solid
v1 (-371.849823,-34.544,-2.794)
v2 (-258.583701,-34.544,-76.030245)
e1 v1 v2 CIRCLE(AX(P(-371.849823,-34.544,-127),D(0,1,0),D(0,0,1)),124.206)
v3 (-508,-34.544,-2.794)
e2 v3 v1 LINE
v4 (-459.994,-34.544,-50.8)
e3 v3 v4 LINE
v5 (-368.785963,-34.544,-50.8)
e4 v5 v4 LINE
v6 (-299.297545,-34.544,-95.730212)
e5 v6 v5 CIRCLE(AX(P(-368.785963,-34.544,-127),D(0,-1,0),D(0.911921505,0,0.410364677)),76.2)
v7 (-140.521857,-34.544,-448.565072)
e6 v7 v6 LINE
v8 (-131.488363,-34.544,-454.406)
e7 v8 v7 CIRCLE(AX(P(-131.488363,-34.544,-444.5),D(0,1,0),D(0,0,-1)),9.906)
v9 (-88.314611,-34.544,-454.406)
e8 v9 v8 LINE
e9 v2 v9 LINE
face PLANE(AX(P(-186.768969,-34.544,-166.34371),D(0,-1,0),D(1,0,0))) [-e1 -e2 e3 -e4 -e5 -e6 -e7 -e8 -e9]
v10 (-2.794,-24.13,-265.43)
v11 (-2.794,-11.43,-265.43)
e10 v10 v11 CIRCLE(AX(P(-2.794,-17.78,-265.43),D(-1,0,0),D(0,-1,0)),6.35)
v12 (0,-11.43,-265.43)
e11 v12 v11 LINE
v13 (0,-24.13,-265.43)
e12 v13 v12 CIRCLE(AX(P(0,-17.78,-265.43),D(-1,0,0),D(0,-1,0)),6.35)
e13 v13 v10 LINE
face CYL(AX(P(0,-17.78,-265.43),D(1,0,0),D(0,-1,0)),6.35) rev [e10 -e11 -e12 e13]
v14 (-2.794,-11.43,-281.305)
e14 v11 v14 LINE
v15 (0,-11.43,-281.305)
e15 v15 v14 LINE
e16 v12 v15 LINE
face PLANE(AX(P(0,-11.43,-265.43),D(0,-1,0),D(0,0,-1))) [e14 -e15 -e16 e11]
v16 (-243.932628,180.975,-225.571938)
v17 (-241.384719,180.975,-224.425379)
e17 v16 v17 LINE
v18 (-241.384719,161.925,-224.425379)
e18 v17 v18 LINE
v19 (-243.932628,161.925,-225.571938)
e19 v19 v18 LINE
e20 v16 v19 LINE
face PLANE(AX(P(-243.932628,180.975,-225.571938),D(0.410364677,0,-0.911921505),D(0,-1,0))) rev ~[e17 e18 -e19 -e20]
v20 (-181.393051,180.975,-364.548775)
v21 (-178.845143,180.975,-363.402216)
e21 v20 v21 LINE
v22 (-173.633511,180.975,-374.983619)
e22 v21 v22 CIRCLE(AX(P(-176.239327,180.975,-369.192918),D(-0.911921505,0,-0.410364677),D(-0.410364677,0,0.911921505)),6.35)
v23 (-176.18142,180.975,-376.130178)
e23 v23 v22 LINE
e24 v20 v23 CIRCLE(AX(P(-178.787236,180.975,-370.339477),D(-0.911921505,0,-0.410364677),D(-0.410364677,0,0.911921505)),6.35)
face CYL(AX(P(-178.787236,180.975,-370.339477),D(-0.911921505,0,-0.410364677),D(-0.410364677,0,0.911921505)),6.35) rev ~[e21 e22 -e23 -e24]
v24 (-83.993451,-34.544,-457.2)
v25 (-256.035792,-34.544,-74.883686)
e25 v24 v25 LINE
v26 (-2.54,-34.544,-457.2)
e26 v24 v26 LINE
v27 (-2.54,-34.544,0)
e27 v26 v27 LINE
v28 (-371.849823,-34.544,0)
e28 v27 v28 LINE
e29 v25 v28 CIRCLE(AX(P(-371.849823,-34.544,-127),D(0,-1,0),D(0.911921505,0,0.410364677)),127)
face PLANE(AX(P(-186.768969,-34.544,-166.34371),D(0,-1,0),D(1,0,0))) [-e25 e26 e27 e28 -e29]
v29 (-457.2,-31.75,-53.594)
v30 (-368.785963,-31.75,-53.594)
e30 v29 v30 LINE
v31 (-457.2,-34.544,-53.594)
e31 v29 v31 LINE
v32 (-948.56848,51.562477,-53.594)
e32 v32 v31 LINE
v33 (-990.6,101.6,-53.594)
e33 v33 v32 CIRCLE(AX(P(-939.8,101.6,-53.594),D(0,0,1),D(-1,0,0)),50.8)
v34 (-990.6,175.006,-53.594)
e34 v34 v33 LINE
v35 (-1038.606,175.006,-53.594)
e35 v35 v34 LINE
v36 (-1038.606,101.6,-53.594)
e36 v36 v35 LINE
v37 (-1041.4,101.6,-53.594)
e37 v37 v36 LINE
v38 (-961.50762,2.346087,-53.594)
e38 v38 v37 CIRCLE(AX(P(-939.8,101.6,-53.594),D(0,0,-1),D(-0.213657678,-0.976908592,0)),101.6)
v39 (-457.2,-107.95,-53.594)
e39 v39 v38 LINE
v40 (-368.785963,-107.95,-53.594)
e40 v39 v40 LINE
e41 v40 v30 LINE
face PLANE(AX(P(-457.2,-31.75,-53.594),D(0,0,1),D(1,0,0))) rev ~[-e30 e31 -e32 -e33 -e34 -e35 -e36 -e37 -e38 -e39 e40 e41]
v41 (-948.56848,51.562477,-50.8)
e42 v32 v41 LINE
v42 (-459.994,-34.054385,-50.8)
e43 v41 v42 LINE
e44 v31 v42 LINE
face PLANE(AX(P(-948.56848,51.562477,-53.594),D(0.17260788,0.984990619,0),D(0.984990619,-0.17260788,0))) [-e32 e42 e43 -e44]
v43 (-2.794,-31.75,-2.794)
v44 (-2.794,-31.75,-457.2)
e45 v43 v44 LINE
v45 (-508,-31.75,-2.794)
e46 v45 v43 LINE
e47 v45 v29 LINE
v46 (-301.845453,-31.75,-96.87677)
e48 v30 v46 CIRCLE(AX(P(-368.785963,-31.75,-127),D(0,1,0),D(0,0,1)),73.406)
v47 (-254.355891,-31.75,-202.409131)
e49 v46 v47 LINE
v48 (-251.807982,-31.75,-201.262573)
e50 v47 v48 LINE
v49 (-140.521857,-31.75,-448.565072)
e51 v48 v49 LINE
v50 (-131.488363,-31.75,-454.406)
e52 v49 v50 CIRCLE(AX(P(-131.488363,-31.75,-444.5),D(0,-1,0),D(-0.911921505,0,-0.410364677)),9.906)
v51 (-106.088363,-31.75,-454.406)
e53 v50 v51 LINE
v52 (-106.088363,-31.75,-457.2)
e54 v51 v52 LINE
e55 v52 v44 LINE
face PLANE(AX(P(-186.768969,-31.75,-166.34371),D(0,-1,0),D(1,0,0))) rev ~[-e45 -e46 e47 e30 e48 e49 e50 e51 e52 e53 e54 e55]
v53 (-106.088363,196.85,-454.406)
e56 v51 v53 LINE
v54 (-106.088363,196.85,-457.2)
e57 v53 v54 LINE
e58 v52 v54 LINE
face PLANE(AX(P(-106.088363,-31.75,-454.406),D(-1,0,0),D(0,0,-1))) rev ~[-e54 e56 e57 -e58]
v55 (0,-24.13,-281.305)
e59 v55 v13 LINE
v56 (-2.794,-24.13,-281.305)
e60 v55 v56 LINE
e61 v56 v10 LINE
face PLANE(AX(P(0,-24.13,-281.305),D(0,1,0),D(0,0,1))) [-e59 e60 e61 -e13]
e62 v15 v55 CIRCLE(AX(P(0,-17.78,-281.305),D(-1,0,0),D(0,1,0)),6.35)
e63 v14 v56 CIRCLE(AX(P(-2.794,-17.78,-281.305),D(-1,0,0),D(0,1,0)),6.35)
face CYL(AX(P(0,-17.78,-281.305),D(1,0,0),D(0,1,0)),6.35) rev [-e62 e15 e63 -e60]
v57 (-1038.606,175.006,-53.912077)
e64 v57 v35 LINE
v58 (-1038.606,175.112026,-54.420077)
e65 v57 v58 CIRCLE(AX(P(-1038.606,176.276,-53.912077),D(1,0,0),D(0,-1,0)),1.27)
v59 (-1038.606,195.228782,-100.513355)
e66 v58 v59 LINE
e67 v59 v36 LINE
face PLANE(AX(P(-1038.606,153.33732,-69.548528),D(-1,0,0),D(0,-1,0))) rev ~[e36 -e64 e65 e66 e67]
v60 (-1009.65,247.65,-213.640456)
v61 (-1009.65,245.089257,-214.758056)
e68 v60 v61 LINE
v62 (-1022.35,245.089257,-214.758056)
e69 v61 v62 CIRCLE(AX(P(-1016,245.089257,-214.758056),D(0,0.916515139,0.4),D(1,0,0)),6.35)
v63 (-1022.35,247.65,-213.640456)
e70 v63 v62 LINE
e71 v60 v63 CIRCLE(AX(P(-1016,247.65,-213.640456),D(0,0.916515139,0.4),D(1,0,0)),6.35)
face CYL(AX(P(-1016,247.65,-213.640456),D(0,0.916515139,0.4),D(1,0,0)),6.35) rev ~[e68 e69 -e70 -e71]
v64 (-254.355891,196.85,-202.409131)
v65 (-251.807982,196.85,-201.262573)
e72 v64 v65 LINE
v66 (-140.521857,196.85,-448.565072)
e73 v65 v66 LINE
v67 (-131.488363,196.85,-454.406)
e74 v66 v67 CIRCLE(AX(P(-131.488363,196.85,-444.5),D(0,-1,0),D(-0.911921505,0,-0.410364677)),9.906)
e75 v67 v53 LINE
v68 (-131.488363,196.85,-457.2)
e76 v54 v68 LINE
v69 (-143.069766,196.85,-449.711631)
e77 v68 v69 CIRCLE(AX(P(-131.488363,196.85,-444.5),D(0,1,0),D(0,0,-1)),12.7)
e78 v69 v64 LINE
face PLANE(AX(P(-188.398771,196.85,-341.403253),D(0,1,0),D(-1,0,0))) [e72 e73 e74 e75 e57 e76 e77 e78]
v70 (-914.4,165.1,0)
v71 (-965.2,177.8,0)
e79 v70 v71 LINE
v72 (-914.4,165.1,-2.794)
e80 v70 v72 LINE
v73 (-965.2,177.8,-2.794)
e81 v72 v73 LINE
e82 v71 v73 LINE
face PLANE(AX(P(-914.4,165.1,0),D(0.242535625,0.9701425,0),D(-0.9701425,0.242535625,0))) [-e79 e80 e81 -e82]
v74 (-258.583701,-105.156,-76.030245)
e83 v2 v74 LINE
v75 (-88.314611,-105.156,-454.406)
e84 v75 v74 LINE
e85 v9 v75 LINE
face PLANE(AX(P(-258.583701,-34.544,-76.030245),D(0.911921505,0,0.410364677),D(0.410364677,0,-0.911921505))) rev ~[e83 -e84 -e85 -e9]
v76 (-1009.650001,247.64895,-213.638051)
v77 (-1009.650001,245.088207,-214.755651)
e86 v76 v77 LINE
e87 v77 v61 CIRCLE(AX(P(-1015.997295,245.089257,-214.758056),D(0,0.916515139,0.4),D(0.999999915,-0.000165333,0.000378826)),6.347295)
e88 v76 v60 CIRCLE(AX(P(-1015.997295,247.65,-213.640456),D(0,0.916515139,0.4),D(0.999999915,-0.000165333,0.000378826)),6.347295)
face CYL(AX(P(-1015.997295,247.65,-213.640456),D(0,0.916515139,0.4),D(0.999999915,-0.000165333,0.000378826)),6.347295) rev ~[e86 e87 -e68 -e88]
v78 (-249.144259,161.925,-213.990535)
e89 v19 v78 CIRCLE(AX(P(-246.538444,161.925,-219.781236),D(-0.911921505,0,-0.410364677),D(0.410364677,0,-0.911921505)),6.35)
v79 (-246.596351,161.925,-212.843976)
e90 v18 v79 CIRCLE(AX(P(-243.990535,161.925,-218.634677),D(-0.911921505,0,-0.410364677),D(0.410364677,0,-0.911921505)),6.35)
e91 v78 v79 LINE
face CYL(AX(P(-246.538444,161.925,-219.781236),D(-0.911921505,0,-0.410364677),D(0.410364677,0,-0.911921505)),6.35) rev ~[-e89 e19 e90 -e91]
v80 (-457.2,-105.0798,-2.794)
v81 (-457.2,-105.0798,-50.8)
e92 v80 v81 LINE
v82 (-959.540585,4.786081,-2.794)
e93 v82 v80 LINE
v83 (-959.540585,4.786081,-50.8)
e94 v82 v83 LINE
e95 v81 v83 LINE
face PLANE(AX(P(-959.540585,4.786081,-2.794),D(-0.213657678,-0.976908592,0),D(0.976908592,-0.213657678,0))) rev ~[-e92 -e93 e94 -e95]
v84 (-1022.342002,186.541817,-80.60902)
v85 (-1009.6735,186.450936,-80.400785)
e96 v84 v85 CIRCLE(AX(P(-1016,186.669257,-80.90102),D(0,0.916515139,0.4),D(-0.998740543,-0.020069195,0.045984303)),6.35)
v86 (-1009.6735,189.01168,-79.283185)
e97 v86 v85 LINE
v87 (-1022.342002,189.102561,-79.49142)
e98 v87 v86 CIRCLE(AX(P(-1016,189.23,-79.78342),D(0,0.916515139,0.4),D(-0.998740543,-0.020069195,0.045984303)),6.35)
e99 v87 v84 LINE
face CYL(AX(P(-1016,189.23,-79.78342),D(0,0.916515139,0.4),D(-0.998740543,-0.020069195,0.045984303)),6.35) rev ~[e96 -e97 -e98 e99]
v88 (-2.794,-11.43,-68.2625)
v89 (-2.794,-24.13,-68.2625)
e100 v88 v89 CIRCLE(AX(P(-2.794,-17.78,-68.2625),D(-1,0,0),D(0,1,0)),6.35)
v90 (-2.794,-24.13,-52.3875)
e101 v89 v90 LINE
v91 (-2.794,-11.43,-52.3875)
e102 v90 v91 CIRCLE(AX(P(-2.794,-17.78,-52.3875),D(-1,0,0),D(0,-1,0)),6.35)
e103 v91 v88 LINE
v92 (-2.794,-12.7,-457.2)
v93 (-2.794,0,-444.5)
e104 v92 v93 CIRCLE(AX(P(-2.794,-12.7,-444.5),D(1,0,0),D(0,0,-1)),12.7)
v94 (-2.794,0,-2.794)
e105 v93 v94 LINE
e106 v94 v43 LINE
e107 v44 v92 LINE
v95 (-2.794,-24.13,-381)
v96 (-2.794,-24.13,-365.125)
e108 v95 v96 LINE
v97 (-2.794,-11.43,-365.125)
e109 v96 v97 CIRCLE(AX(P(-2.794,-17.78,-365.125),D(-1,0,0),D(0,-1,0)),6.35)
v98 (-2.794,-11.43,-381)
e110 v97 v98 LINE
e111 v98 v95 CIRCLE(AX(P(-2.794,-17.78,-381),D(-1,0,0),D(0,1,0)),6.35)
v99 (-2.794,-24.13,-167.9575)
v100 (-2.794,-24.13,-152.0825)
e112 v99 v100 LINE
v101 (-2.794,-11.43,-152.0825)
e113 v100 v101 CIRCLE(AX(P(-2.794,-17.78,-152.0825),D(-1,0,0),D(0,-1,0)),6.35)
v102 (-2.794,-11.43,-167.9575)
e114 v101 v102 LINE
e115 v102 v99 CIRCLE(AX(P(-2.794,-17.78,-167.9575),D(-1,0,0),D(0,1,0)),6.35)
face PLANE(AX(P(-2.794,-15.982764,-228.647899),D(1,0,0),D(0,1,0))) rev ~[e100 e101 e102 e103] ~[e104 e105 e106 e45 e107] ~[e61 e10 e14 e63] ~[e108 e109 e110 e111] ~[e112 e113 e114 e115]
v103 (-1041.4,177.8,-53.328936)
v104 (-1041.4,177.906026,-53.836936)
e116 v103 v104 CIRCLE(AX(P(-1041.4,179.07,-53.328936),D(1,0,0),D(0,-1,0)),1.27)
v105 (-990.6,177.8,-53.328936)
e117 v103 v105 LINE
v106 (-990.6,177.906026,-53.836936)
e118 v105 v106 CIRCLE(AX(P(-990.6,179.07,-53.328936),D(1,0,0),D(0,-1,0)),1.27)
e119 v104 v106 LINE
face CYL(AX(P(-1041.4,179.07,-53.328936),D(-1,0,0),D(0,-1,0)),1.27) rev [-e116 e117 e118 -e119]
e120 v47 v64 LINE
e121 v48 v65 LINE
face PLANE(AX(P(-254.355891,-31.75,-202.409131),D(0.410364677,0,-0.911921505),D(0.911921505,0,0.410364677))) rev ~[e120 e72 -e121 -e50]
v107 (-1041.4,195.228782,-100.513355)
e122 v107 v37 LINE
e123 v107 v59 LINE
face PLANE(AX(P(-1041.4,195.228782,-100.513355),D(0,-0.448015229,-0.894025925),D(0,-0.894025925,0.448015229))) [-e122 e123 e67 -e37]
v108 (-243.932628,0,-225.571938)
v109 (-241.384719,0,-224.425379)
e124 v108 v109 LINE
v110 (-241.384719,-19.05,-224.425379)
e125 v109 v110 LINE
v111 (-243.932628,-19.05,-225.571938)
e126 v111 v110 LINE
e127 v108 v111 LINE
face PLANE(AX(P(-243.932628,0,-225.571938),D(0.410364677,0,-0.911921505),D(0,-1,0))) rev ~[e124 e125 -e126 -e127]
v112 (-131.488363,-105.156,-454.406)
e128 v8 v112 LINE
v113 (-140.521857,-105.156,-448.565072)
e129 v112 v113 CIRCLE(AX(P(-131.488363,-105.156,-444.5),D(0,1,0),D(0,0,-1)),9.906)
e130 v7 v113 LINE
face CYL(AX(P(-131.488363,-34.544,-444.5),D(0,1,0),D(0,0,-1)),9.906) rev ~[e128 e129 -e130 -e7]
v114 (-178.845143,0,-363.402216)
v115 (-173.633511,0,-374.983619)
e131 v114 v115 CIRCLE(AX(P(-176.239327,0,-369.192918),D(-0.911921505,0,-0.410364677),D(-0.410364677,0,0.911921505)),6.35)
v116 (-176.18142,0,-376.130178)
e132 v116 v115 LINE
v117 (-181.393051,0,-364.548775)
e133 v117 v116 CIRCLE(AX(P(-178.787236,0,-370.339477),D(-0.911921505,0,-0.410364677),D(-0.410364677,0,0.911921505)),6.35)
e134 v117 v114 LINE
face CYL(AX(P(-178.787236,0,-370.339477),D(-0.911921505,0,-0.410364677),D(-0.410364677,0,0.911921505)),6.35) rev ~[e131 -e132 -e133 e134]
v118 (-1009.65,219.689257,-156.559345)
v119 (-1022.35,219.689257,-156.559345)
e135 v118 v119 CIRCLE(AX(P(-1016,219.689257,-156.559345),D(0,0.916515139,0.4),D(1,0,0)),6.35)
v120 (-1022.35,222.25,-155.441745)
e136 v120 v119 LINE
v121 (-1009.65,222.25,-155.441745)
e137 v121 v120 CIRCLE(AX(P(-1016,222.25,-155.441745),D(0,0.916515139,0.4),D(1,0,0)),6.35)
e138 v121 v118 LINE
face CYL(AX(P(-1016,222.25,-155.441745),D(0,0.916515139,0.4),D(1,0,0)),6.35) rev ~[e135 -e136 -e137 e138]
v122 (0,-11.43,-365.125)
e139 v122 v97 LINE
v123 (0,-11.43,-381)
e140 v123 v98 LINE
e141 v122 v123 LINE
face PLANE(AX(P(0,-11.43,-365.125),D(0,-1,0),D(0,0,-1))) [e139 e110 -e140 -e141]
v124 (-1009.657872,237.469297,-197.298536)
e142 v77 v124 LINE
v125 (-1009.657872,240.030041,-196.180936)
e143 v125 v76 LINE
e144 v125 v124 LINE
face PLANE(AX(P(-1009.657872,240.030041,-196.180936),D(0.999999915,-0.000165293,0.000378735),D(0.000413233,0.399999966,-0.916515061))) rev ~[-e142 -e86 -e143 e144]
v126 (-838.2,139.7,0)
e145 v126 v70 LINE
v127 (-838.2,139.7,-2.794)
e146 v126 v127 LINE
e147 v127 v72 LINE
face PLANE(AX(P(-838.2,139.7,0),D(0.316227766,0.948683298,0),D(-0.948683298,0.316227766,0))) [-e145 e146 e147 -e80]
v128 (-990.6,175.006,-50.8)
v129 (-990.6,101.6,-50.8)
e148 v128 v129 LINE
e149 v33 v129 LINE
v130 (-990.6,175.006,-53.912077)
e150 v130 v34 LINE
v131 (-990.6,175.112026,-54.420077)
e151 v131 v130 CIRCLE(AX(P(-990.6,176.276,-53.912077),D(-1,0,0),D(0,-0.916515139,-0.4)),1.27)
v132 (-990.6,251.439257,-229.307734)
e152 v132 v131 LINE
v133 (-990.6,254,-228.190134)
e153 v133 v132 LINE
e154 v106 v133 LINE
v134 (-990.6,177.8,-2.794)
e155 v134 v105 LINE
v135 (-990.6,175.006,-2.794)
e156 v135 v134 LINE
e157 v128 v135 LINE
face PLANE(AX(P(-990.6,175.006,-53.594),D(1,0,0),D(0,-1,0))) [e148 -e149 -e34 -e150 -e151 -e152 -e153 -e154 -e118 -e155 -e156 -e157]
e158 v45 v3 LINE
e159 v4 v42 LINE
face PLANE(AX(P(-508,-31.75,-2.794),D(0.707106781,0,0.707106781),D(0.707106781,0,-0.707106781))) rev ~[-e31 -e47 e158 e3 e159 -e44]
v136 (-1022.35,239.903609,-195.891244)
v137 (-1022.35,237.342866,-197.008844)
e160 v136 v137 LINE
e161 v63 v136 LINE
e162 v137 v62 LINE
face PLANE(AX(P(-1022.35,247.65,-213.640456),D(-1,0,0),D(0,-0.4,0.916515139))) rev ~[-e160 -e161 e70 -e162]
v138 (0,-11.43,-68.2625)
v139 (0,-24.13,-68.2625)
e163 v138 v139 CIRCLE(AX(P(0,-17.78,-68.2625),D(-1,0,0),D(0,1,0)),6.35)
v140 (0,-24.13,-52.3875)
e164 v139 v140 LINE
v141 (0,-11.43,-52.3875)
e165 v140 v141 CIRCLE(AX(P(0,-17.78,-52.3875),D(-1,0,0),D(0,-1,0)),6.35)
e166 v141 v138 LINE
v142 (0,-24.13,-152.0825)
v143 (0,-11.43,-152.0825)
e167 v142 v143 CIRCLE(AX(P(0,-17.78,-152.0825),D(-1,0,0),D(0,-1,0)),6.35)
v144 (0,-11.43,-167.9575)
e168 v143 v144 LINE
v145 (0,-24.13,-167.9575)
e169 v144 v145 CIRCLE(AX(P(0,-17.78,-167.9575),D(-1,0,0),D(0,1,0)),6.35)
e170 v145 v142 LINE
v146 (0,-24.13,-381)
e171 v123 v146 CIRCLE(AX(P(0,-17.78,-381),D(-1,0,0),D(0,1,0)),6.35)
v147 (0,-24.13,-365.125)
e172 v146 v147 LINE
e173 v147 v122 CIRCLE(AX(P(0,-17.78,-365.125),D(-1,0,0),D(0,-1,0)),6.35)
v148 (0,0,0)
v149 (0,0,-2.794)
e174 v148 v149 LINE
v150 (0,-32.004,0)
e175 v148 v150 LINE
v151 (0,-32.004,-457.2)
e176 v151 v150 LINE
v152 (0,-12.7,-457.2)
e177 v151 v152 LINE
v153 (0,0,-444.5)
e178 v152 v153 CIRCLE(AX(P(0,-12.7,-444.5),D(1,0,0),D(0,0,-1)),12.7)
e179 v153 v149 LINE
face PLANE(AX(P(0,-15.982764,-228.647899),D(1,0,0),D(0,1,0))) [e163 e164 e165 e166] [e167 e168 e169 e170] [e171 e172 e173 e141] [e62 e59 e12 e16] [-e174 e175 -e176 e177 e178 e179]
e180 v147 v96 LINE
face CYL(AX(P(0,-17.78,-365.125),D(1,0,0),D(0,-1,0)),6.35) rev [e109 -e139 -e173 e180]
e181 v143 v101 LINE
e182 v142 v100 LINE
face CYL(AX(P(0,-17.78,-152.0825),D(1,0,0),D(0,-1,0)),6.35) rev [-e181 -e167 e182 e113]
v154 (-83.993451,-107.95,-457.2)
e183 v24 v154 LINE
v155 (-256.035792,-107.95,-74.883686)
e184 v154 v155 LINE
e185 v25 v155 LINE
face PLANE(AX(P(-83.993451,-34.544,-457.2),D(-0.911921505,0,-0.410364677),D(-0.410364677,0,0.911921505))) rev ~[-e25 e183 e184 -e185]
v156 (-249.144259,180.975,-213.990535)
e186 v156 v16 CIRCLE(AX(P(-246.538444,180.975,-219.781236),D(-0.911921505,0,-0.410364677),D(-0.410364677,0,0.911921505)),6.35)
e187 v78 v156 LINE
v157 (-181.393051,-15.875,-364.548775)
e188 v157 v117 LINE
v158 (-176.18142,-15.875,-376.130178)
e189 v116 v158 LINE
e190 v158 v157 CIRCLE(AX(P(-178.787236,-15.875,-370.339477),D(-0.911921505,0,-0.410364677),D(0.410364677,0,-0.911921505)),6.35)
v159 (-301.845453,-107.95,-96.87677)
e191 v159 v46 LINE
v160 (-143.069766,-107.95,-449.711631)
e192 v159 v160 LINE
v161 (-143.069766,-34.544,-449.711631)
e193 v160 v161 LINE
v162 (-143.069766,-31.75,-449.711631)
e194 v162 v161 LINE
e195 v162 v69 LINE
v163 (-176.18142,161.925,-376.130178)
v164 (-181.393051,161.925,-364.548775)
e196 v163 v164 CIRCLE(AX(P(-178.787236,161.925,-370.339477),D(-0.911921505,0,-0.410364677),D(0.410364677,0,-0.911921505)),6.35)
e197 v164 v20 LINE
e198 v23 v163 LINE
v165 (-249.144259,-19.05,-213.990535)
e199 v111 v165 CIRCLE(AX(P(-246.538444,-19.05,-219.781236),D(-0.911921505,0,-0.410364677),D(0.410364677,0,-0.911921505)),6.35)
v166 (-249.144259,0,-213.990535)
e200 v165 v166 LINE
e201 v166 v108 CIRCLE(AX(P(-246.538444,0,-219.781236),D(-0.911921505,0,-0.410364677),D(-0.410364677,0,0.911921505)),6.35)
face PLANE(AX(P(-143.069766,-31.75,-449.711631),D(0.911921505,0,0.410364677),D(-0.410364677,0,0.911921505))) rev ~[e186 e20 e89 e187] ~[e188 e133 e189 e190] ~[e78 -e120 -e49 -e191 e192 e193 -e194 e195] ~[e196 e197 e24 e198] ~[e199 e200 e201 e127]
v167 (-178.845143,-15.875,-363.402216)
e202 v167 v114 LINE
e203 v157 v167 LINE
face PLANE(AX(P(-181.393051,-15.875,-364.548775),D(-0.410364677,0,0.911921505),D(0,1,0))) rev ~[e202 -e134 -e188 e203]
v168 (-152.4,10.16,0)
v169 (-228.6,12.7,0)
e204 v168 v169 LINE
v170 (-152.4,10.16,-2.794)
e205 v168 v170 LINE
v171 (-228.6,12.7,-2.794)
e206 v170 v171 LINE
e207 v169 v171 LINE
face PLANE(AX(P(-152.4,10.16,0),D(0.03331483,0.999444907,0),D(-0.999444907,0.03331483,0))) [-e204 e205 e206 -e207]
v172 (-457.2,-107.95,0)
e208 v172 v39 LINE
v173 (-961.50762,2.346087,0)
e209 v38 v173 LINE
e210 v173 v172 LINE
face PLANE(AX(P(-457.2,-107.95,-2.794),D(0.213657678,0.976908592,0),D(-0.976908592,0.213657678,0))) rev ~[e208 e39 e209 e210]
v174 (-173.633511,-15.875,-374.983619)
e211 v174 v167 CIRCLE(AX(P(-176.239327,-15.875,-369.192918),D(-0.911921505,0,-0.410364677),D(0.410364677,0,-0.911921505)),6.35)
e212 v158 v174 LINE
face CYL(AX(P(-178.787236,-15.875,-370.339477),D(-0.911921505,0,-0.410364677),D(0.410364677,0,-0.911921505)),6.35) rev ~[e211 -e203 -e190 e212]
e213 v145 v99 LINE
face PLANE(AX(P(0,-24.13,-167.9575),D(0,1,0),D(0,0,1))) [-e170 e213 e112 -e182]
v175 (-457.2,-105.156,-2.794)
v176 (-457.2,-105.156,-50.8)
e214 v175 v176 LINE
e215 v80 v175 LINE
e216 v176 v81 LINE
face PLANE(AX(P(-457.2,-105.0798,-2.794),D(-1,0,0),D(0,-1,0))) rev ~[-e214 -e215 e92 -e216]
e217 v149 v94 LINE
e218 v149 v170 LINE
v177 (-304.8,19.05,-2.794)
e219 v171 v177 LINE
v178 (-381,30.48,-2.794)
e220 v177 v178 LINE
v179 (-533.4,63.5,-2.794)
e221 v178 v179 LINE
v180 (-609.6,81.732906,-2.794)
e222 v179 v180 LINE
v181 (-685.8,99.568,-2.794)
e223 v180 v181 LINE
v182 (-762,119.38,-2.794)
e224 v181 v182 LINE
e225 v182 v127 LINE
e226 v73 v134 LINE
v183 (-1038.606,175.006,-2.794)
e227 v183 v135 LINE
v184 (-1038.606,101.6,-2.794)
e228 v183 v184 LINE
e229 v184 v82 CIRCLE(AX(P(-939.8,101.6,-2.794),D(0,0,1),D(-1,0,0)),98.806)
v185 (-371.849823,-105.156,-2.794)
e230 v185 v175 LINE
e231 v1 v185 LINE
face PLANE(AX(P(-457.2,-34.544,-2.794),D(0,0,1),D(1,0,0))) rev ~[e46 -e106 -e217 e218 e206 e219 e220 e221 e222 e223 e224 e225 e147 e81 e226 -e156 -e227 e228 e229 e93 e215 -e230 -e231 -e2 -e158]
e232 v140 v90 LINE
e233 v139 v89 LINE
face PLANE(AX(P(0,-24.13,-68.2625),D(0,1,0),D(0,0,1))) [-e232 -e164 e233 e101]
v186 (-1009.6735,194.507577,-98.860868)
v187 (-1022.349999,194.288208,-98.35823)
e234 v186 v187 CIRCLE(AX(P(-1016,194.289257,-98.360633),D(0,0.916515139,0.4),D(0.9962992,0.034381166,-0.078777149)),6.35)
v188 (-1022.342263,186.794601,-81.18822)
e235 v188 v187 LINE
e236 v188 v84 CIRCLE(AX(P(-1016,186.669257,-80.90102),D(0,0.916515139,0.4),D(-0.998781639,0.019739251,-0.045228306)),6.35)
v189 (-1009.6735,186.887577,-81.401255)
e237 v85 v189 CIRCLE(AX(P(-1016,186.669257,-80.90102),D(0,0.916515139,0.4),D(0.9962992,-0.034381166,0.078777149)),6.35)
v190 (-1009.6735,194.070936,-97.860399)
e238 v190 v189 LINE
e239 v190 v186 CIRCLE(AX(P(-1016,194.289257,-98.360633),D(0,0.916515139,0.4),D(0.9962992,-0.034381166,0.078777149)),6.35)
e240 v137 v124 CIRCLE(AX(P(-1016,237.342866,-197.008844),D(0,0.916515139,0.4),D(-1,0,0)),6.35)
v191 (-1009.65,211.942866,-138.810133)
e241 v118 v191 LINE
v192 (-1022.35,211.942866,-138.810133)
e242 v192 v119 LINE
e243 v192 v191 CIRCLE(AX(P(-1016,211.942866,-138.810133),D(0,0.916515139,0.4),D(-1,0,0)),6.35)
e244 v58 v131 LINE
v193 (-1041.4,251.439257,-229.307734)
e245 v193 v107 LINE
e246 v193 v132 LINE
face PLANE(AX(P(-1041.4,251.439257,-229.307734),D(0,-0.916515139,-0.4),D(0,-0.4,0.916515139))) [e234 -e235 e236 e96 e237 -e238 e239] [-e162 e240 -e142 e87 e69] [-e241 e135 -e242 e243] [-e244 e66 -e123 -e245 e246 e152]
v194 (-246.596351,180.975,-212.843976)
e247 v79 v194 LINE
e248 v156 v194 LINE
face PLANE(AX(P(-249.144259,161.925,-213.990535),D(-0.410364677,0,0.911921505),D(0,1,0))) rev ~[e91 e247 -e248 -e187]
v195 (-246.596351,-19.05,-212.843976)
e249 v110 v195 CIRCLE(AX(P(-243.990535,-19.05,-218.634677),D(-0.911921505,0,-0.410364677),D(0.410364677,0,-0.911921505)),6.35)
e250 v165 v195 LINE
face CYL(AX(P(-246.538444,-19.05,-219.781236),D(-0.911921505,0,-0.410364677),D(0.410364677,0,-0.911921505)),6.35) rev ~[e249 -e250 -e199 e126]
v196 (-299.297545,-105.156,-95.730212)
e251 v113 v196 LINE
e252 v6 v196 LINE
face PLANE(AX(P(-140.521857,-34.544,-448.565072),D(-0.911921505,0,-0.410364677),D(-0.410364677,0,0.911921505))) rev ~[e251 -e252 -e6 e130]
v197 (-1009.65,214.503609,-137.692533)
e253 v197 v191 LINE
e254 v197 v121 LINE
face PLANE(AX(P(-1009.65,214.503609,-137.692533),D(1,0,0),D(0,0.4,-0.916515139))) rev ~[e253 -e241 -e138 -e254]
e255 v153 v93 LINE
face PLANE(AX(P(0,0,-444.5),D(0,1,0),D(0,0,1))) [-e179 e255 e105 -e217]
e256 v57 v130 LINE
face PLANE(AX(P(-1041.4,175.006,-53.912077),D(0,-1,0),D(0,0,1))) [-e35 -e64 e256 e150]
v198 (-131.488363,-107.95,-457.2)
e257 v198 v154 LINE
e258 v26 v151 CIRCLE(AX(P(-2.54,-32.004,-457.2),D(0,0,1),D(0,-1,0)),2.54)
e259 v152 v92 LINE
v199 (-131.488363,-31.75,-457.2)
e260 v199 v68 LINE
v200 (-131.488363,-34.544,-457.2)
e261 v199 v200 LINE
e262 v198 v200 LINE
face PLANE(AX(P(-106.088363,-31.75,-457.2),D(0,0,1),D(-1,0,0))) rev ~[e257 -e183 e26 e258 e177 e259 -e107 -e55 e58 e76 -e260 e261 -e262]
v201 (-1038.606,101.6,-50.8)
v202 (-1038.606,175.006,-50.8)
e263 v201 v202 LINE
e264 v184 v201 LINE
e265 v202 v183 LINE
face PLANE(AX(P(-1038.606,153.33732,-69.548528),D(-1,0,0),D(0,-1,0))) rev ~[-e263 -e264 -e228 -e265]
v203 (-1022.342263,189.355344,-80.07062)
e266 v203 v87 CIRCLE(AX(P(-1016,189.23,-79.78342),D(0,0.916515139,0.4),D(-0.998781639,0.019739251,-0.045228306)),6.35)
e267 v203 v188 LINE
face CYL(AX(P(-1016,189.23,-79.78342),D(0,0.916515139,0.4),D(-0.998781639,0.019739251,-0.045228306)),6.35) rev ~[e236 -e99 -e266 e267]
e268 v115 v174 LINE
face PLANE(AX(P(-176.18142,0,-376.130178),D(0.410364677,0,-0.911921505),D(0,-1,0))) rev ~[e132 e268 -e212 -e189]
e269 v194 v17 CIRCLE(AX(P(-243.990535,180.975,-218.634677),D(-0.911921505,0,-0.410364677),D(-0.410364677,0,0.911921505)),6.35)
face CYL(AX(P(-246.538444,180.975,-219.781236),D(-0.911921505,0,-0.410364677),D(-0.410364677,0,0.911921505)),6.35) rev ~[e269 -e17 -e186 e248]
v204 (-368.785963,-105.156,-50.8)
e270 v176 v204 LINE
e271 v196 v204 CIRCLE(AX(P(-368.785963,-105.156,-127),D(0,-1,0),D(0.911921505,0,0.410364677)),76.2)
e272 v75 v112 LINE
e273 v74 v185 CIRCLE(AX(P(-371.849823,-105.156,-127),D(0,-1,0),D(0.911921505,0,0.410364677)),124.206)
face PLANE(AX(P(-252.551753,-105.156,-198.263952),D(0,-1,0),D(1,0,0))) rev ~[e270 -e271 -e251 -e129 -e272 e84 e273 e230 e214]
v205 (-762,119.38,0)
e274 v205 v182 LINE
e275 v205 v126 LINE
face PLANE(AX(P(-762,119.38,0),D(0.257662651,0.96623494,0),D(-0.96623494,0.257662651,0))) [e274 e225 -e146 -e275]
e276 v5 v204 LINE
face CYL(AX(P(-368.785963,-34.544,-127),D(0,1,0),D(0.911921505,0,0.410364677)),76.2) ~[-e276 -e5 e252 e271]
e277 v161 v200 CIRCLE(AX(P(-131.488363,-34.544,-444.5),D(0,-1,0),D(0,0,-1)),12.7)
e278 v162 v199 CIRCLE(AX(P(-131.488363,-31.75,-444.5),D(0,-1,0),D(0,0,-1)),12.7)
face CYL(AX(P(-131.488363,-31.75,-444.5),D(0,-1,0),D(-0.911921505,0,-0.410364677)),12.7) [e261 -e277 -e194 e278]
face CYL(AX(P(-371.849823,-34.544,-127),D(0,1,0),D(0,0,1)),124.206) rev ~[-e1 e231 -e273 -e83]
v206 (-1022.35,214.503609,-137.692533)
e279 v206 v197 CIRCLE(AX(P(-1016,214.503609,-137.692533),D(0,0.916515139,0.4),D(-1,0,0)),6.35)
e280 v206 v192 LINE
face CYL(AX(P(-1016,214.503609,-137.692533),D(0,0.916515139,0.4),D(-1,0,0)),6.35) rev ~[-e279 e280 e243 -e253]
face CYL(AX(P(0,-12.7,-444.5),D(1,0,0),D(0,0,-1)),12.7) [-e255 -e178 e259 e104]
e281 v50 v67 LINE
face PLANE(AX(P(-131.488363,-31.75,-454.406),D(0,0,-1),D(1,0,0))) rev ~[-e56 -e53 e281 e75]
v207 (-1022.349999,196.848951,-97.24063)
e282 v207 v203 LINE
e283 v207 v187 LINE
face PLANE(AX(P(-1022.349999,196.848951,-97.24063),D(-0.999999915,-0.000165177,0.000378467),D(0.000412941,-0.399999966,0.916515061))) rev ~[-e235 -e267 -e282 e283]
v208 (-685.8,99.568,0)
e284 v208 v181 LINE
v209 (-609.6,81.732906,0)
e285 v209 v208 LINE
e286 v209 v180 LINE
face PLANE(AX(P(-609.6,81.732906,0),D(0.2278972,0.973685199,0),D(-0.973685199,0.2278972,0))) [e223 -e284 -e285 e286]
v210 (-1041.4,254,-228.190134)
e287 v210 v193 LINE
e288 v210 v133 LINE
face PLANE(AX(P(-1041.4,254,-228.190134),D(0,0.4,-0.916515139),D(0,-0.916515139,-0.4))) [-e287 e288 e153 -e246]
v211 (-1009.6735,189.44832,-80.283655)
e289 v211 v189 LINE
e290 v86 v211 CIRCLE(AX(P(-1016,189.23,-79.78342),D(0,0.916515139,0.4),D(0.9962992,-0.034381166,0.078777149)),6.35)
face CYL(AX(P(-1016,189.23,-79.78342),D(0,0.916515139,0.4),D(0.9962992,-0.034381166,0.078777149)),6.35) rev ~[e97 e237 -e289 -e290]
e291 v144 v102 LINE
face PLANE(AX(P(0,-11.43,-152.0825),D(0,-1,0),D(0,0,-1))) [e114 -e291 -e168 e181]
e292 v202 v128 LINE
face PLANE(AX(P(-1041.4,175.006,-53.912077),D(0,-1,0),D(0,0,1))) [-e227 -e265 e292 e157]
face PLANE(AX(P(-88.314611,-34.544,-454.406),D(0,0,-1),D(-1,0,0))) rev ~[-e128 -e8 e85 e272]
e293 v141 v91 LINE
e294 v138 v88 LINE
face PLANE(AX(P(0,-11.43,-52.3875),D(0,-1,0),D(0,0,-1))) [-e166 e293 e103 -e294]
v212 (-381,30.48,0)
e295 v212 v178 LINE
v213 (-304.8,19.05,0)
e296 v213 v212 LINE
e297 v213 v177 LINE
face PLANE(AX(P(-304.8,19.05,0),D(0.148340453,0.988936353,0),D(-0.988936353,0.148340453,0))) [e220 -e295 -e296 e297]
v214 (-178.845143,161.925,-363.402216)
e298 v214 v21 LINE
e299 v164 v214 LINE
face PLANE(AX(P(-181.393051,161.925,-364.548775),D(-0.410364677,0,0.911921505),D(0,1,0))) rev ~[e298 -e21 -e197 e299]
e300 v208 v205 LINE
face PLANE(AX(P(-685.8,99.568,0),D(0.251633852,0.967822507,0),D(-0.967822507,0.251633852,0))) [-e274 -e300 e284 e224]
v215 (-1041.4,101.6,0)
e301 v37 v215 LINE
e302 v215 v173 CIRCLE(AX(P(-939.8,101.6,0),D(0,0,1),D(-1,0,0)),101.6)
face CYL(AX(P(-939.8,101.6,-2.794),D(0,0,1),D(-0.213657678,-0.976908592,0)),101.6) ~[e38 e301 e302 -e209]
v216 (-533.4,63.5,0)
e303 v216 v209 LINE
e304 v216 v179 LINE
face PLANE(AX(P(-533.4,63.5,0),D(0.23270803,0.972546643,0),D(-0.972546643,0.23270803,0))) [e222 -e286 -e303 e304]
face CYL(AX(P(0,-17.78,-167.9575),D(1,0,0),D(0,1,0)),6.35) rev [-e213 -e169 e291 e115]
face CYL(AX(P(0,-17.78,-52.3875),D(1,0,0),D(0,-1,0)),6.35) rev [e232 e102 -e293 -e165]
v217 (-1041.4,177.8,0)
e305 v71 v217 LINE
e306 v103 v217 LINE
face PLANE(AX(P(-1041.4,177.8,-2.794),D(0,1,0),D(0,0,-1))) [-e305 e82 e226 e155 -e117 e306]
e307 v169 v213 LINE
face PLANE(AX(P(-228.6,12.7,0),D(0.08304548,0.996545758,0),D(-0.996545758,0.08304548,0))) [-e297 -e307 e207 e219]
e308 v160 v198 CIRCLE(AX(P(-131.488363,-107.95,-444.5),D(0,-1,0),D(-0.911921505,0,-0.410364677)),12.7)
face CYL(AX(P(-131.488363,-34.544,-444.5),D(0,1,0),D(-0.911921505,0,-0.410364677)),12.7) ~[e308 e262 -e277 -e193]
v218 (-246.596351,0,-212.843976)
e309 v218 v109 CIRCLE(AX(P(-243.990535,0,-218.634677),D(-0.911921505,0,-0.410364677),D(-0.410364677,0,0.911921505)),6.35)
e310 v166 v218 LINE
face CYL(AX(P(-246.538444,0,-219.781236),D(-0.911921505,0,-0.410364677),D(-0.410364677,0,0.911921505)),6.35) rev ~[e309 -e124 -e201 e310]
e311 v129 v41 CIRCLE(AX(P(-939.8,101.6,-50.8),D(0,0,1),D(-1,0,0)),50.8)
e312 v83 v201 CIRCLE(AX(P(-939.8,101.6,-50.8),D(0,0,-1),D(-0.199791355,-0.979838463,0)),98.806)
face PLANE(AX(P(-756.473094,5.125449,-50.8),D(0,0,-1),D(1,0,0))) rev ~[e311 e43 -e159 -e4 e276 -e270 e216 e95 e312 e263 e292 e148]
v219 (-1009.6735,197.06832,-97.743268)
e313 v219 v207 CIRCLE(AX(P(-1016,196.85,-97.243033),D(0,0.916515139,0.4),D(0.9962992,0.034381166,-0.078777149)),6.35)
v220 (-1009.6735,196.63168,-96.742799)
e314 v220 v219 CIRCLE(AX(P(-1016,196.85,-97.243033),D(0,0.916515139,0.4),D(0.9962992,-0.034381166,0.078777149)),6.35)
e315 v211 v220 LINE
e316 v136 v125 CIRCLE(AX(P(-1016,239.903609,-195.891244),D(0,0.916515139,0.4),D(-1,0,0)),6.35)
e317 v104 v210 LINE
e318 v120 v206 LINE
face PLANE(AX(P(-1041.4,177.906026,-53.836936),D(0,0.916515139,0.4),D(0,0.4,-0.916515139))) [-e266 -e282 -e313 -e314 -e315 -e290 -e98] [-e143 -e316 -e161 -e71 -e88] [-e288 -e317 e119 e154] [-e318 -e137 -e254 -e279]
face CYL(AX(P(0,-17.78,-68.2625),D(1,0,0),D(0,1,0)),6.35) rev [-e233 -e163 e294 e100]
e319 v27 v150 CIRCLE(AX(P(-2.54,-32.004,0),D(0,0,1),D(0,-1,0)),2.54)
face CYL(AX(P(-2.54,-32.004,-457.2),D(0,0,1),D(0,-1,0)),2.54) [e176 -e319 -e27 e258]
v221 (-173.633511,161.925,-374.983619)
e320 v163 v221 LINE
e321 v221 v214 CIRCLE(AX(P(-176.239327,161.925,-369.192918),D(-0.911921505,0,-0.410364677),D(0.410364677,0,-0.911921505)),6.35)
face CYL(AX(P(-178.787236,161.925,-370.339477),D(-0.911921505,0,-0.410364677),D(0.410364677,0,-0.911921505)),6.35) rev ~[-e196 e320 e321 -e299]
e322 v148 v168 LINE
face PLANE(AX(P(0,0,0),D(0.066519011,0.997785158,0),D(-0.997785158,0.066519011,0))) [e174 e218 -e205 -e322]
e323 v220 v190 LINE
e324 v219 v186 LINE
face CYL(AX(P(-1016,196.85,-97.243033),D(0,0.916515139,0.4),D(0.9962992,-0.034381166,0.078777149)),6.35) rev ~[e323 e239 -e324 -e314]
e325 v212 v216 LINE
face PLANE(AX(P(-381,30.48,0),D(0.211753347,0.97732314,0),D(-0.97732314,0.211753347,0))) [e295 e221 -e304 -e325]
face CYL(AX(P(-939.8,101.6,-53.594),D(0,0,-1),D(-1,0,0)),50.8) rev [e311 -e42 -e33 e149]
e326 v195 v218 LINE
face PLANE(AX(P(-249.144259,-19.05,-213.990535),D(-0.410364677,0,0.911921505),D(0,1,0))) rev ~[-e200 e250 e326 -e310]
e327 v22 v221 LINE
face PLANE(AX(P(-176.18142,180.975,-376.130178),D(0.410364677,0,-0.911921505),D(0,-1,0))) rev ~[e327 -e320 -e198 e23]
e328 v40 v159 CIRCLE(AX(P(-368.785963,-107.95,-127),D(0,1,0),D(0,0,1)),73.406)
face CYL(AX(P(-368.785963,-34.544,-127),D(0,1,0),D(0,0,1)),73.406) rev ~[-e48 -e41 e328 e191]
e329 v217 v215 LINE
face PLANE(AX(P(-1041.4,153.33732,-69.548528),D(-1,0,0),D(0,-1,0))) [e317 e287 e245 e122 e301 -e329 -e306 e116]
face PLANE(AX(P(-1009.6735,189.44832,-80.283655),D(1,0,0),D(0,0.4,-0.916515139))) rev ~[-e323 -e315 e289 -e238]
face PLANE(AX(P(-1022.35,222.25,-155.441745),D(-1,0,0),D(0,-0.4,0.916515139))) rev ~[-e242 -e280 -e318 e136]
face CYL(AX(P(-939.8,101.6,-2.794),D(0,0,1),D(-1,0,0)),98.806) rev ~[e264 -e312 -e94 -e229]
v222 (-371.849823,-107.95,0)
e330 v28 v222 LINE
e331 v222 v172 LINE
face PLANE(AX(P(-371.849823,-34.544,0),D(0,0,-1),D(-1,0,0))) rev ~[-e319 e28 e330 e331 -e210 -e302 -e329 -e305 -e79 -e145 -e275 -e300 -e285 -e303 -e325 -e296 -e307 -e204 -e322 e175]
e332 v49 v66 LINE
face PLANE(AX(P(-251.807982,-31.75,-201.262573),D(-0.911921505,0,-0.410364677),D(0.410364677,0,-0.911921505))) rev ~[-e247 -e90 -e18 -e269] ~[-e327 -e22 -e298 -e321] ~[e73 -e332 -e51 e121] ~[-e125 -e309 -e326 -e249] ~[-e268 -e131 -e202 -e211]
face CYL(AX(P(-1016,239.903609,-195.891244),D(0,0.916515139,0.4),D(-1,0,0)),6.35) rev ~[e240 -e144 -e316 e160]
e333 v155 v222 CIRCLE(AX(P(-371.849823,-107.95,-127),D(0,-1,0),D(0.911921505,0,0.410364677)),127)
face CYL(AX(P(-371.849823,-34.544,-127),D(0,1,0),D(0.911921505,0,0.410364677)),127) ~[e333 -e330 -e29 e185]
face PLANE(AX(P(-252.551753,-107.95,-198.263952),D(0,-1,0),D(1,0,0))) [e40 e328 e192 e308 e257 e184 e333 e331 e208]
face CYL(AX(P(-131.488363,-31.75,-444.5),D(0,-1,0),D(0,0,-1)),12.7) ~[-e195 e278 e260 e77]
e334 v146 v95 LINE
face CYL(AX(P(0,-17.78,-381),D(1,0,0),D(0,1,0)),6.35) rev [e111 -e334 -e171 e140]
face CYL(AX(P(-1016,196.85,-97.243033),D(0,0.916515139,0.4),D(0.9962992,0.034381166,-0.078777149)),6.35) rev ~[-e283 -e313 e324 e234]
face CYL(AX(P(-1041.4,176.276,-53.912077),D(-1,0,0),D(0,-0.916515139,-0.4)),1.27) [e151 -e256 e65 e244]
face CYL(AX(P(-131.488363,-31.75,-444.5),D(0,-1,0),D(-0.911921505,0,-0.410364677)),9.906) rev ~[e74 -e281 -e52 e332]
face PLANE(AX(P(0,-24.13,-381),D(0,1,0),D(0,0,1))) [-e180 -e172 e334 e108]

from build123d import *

# Parameters (mm, degrees)
F1_DEPTH  = 2.794
F3_DEPTH  = 50.8
F5_DEPTH  = 25.4
F7_DEPTH  = 50.8
F9_DEPTH  = 2.794
F11_DEPTH = 2.794
F12_R     = 12.7
F14_DEPTH = 73.406
F16_DEPTH = 2.794
F19_DEPTH = 70.612
F20_DEPTH = 2.794
F22_DEPTH = 2.794
F24_DEPTH = 228.6
F26_DEPTH = 25.4
F27_R     = 2.54


with BuildPart() as f1:
    # F0 (on Top) → F1 (new body)
    with BuildSketch(Plane.XY):
        with BuildLine():
            Line((-965.2, 177.8), (-1041.4, 177.8))
            Line((-1041.4, 177.8), (-1041.4, 101.6))
            ThreePointArc((-1041.4, 101.6), (-1018.9456069551, 37.8933841763), (-961.5076200844, 2.3460870783))
            Line((-961.5076200844, 2.3460870783), (-457.2, -107.95))
            Line((-457.2, -107.95), (-457.2, -31.75))
            Line((-457.2, -31.75), (0, -31.75))
            Line((0, -31.75), (0, 0))
            Line((0, 0), (-76.2, 5.08))
            Line((-76.2, 5.08), (-152.4, 10.16))
            Line((-152.4, 10.16), (-228.6, 12.7))
            Line((-228.6, 12.7), (-304.8, 19.05))
            Line((-304.8, 19.05), (-381, 30.48))
            Line((-381, 30.48), (-457.2, 46.99))
            Line((-457.2, 46.99), (-533.4, 63.5))
            Line((-533.4, 63.5), (-609.6, 81.7329064012))
            Line((-609.6, 81.7329064012), (-685.8, 99.568))
            Line((-685.8, 99.568), (-762, 119.38))
            Line((-762, 119.38), (-838.2, 139.7))
            Line((-838.2, 139.7), (-914.4, 165.1))
            Line((-914.4, 165.1), (-965.2, 177.8))
        make_face()
    extrude(amount=-F1_DEPTH)

    # F2 (on face) → F3 (join)
    with BuildSketch(Plane(origin=(-1041.4, 0, 0), x_dir=(0, -1, 0), z_dir=(-1, 0, 0))):
        with BuildLine():
            Line((-175.006, -2.794), (-177.8, -2.794))
            Line((-177.8, -2.794), (-177.8, -53.3289355663))
            ThreePointArc((-177.8, -53.3289355663), (-177.8267889826, -53.5884088138), (-177.9060257735, -53.8369355663))
            Line((-177.9060257735, -53.8369355663), (-254, -228.1901339778))
            Line((-254, -228.1901339778), (-251.4392567017, -229.3077339778))
            Line((-251.4392567017, -229.3077339778), (-175.1120257735, -54.4200773204))
            ThreePointArc((-175.1120257735, -54.4200773204), (-175.0327889826, -54.1715505679), (-175.006, -53.9120773204))
            Line((-175.006, -53.9120773204), (-175.006, -2.794))
        make_face()
    extrude(amount=-F3_DEPTH)

    # F4 (on face) → F5 (cut)
    with BuildSketch(Plane(origin=(0, 129.7041150564, 56.6075166851), x_dir=(-1, 0, 0), z_dir=(0, 0.916515139, 0.4))):
        with BuildLine():
            Line((1022.3420024451, -148.4961138868), (1022.3422634072, -149.1280729728))
            ThreePointArc((1022.3422634072, -149.1280729728), (1022.3499994586, -148.8120901814), (1022.3420024451, -148.4961138868))
        make_face()
        with BuildLine():
            Line((1022.3499994586, -167.8620901814), (1022.3422634072, -149.1280729728))
            Line((1022.3422634072, -149.1280729728), (1022.3420024451, -148.4961138868))
            ThreePointArc((1022.3420024451, -148.4961138868), (1016.1138654081, -142.4657333334), (1009.6735000791, -148.2689113418))
            Line((1009.6735000791, -148.2689113418), (1009.6735000791, -149.3605133763))
            Line((1009.6735000791, -149.3605133763), (1009.6735000791, -167.3189113418))
            Line((1009.6735000791, -167.3189113418), (1009.6735000791, -168.4105133763))
            ThreePointArc((1009.6735000791, -168.4105133763), (1016.2744632166, -174.2087780856), (1022.3499994586, -167.8620901814))
        make_face()
        with BuildLine():
            Line((1009.6735000791, -149.3605133763), (1009.6735000791, -148.2689113418))
            ThreePointArc((1009.6735000791, -148.2689113418), (1009.65, -148.8147123591), (1009.6735000791, -149.3605133763))
        make_face()
        with BuildLine():
            ThreePointArc((1009.6735000791, -167.3189113418), (1009.65, -167.8647123591), (1009.6735000791, -168.4105133763))
            Line((1009.6735000791, -168.4105133763), (1009.6735000791, -167.3189113418))
        make_face()
        with BuildLine():
            Line((1022.35, -231.3647123591), (1022.35, -211.9987344133))
            ThreePointArc((1022.35, -211.9987344133), (1016, -205.6487344133), (1009.65, -211.9987344133))
            Line((1009.65, -211.9987344133), (1009.65, -231.3647123591))
            ThreePointArc((1009.65, -231.3647123591), (1016, -237.7147123591), (1022.35, -231.3647123591))
        make_face()
        with BuildLine():
            Line((1022.35, -294.8647123591), (1022.35, -275.4987344133))
            ThreePointArc((1022.35, -275.4987344133), (1015.8419112498, -269.1507025965), (1009.6578715127, -275.8148139146))
            Line((1009.6578715127, -275.8148139146), (1009.6500005422, -294.862088327))
            ThreePointArc((1009.6500005422, -294.862088327), (1009.6500001355, -294.863400343), (1009.65, -294.8647123591))
            ThreePointArc((1009.65, -294.8647123591), (1016, -301.2147123591), (1022.35, -294.8647123591))
        make_face()
    extrude(amount=-F5_DEPTH, mode=Mode.SUBTRACT)

    # F6 (on face) → F7 (join)
    with BuildSketch(Plane(origin=(0, 0, -2.794), x_dir=(1, 0, 0), z_dir=(0, 0, -1))):
        with BuildLine():
            Line((-1041.4, -101.6), (-1041.4, -175.006))
            Line((-1041.4, -175.006), (-1038.606, -175.006))
            Line((-1038.606, -175.006), (-1038.606, -101.6))
            ThreePointArc((-1038.606, -101.6), (-1016.3281446314, -39.1014502946), (-959.5405846349, -4.7860807824))
            Line((-959.5405846349, -4.7860807824), (-457.2, 105.0798))
            Line((-457.2, 105.0798), (-457.2, 107.95))
            Line((-457.2, 107.95), (-961.5076200844, -2.3460870783))
            ThreePointArc((-961.5076200844, -2.3460870783), (-1018.9456069551, -37.8933841763), (-1041.4, -101.6))
        make_face()
    extrude(amount=F7_DEPTH)

    # F8 (on face) → F9 (join)
    with BuildSketch(Plane.XZ.offset(31.75)):
        with BuildLine():
            Line((0, -457.2), (0, 0))
            Line((0, 0), (-406.4, 0))
            Line((-406.4, 0), (-457.2, 0))
            Line((-457.2, 0), (-457.2, -2.794))
            Line((-457.2, -2.794), (-508, -2.794))
            Line((-508, -2.794), (-457.2, -53.594))
            Line((-457.2, -53.594), (-368.7859632857, -53.594))
            ThreePointArc((-368.7859632857, -53.594), (-328.9286236164, -65.3572120156), (-301.8454532768, -96.876770496))
            Line((-301.8454532768, -96.876770496), (-254, -203.2))
            Line((-254, -203.2), (-139.7, -457.2))
            Line((-139.7, -457.2), (0, -457.2))
        make_face()
    extrude(amount=F9_DEPTH)

    # F10 (on face) → F11 (join)
    with BuildSketch(Plane(origin=(-1041.4, 0, 0), x_dir=(0, -1, 0), z_dir=(-1, 0, 0))):
        with BuildLine():
            Line((-195.2287815157, -100.5133552833), (-101.6, -53.594))
            Line((-101.6, -53.594), (-175.006, -53.594))
            Line((-175.006, -53.594), (-175.006, -53.9120773204))
            ThreePointArc((-175.006, -53.9120773204), (-175.0327889826, -54.1715505679), (-175.1120257735, -54.4200773204))
            Line((-175.1120257735, -54.4200773204), (-195.2287815157, -100.5133552833))
        make_face()
    extrude(amount=-F11_DEPTH)

    # F12
    f12_edges = [f1.edges().sort_by_distance(p)[0] for p in [
        (-139.7, -33.147, -457.2),
    ]]
    fillet(f12_edges, radius=F12_R)

    # F13 (on face) → F14 (join)
    with BuildSketch(Plane.XZ.offset(34.544)):
        with BuildLine():
            Line((-371.8498234799, 0), (-457.2, 0))
            Line((-457.2, 0), (-457.2, -2.794))
            Line((-457.2, -2.794), (-371.8498234799, -2.794))
            ThreePointArc((-371.8498234799, -2.794), (-304.4095497834, -22.6978431683), (-258.5837010082, -76.0302448877))
            Line((-258.5837010082, -76.0302448877), (-87.0573112076, -457.2))
            Line((-87.0573112076, -457.2), (-83.9934510134, -457.2))
            Line((-83.9934510134, -457.2), (-256.0357923227, -74.8836859792))
            ThreePointArc((-256.0357923227, -74.8836859792), (-302.8924884119, -20.3515778817), (-371.8498234799, 0))
        make_face()
    extrude(amount=F14_DEPTH)

    # F15 (on face) → F16 (join)
    with BuildSketch(Plane.XZ.offset(107.95)):
        with BuildLine():
            Line((-371.8498234799, -2.794), (-457.2, -2.794))
            Line((-457.2, -2.794), (-457.2, -53.594))
            Line((-457.2, -53.594), (-368.7859632857, -53.594))
            ThreePointArc((-368.7859632857, -53.594), (-328.9286236164, -65.3572120156), (-301.8454532768, -96.876770496))
            Line((-301.8454532768, -96.876770496), (-143.0697658691, -449.7116314021))
            ThreePointArc((-143.0697658691, -449.7116314021), (-138.3840962601, -455.1648422118), (-131.4883627533, -457.2))
            Line((-131.4883627533, -457.2), (-87.0573112076, -457.2))
            Line((-87.0573112076, -457.2), (-258.5837010082, -76.0302448877))
            ThreePointArc((-258.5837010082, -76.0302448877), (-304.4095497834, -22.6978431683), (-371.8498234799, -2.794))
        make_face()
    extrude(amount=-F16_DEPTH)

    # F18 (on face) → F19 (join, through all)
    with BuildSketch(Plane.XZ.offset(34.544)):
        with BuildLine():
            Line((-131.4883627533, -457.2), (-87.0573112076, -457.2))
            Line((-87.0573112076, -457.2), (-88.3146112076, -454.406))
            Line((-88.3146112076, -454.406), (-131.4883627533, -454.406))
            ThreePointArc((-131.4883627533, -454.406), (-136.8670348886, -452.8185769252), (-140.5218571836, -448.5650724936))
            Line((-140.5218571836, -448.5650724936), (-299.2975445913, -95.7302115875))
            ThreePointArc((-299.2975445913, -95.7302115875), (-327.4115622449, -63.010946729), (-368.7859632857, -50.8))
            Line((-368.7859632857, -50.8), (-419.1, -50.8))
            Line((-419.1, -50.8), (-419.1, -53.594))
            Line((-419.1, -53.594), (-368.7859632857, -53.594))
            ThreePointArc((-368.7859632857, -53.594), (-328.9286236164, -65.3572120156), (-301.8454532768, -96.876770496))
            Line((-301.8454532768, -96.876770496), (-143.0697658691, -449.7116314021))
            ThreePointArc((-143.0697658691, -449.7116314021), (-138.3840962601, -455.1648422118), (-131.4883627533, -457.2))
        make_face()
    extrude(amount=F19_DEPTH)

    # F17 (on face) → F20 (join)
    with BuildSketch(Plane(origin=(0, 0, -53.594), x_dir=(1, 0, 0), z_dir=(0, 0, -1))):
        with BuildLine():
            ThreePointArc((-959.5405846349, -4.7860807824), (-1016.3281446314, -39.1014502946), (-1038.606, -101.6))
            Line((-1038.606, -101.6), (-1038.606, -175.006))
            Line((-1038.606, -175.006), (-990.6, -175.006))
            Line((-990.6, -175.006), (-990.6, -101.6))
            ThreePointArc((-990.6, -101.6), (-978.6978071313, -68.9258420097), (-948.5684803002, -51.5624765478))
            Line((-948.5684803002, -51.5624765478), (-457.2, 34.544))
            Line((-457.2, 34.544), (-419.1, 34.544))
            Line((-419.1, 34.544), (-419.1, 105.156))
            Line((-419.1, 105.156), (-457.2, 105.156))
            Line((-457.2, 105.156), (-457.2, 105.0798))
            Line((-457.2, 105.0798), (-959.5405846349, -4.7860807824))
        make_face()
    extrude(amount=-F20_DEPTH)

    # F21 (on face) → F22 (join)
    with BuildSketch(Plane.YZ):
        with BuildLine():
            Line((0, -2.794), (-31.75, -2.794))
            Line((-31.75, -2.794), (-31.75, -457.2))
            Line((-31.75, -457.2), (-12.7, -457.2))
            ThreePointArc((-12.7, -457.2), (-3.7197438789, -453.4802561211), (0, -444.5))
            Line((0, -444.5), (0, -2.794))
        make_face()
        with BuildLine():
            ThreePointArc((-11.43, -381), (-17.78, -387.35), (-24.13, -381))
            Line((-24.13, -381), (-24.13, -365.125))
            ThreePointArc((-24.13, -365.125), (-17.78, -358.775), (-11.43, -365.125))
            Line((-11.43, -365.125), (-11.43, -381))
        make_face(mode=Mode.SUBTRACT)
        with BuildLine():
            ThreePointArc((-24.13, -265.43), (-17.78, -259.08), (-11.43, -265.43))
            Line((-11.43, -265.43), (-11.43, -281.305))
            ThreePointArc((-11.43, -281.305), (-17.78, -287.655), (-24.13, -281.305))
            Line((-24.13, -281.305), (-24.13, -265.43))
        make_face(mode=Mode.SUBTRACT)
        with BuildLine():
            ThreePointArc((-24.13, -152.0825), (-17.78, -145.7325), (-11.43, -152.0825))
            Line((-11.43, -152.0825), (-11.43, -167.9575))
            ThreePointArc((-11.43, -167.9575), (-17.78, -174.3075), (-24.13, -167.9575))
            Line((-24.13, -167.9575), (-24.13, -152.0825))
        make_face(mode=Mode.SUBTRACT)
        with BuildLine():
            ThreePointArc((-24.13, -52.3875), (-17.78, -46.0375), (-11.43, -52.3875))
            Line((-11.43, -52.3875), (-11.43, -68.2625))
            ThreePointArc((-11.43, -68.2625), (-17.78, -74.6125), (-24.13, -68.2625))
            Line((-24.13, -68.2625), (-24.13, -52.3875))
        make_face(mode=Mode.SUBTRACT)
    extrude(amount=-F22_DEPTH)

    # F23 (on face) → F24 (join)
    with BuildSketch(Plane(origin=(0, -31.75, 0), x_dir=(-1, 0, 0), z_dir=(0, 1, 0))):
        with BuildLine():
            Line((106.0883627533, -457.2), (131.4883627533, -457.2))
            ThreePointArc((131.4883627533, -457.2), (138.3840962601, -455.1648422118), (143.0697658691, -449.7116314021))
            Line((143.0697658691, -449.7116314021), (254.3558908457, -202.4091314541))
            Line((254.3558908457, -202.4091314541), (251.8079821602, -201.2625725456))
            Line((251.8079821602, -201.2625725456), (140.5218571836, -448.5650724936))
            ThreePointArc((140.5218571836, -448.5650724936), (136.8670348886, -452.8185769252), (131.4883627533, -454.406))
            Line((131.4883627533, -454.406), (106.0883627533, -454.406))
            Line((106.0883627533, -454.406), (106.0883627533, -457.2))
        make_face()
    extrude(amount=F24_DEPTH)

    # F25 (on face) → F26 (cut)
    with BuildSketch(Plane(origin=(-287.2681912682, 0, -129.2706860707), x_dir=(0, -1, 0), z_dir=(-0.9119215052, 0, -0.4103646773))):
        with BuildLine():
            Line((-180.975, -105.6025667432), (-161.925, -105.6025667432))
            ThreePointArc((-161.925, -105.6025667432), (-155.575, -99.2525667432), (-161.925, -92.9025667432))
            Line((-161.925, -92.9025667432), (-180.975, -92.9025667432))
            ThreePointArc((-180.975, -92.9025667432), (-187.325, -99.2525667432), (-180.975, -105.6025667432))
        make_face()
        with BuildLine():
            Line((-161.925, -258.0025667432), (-180.975, -258.0025667432))
            ThreePointArc((-180.975, -258.0025667432), (-187.325, -264.3525667432), (-180.975, -270.7025667432))
            Line((-180.975, -270.7025667432), (-161.925, -270.7025667432))
            ThreePointArc((-161.925, -270.7025667432), (-155.575, -264.3525667432), (-161.925, -258.0025667432))
        make_face()
        with BuildLine():
            Line((19.05, -92.9025667432), (0, -92.9025667432))
            ThreePointArc((0, -92.9025667432), (-6.35, -99.2525667432), (0, -105.6025667432))
            Line((0, -105.6025667432), (19.05, -105.6025667432))
            ThreePointArc((19.05, -105.6025667432), (25.4, -99.2525667432), (19.05, -92.9025667432))
        make_face()
        with BuildLine():
            Line((15.875, -258.0025667432), (0, -258.0025667432))
            ThreePointArc((0, -258.0025667432), (-6.35, -264.3525667432), (0, -270.7025667432))
            Line((0, -270.7025667432), (15.875, -270.7025667432))
            ThreePointArc((15.875, -270.7025667432), (22.225, -264.3525667432), (15.875, -258.0025667432))
        make_face()
    extrude(amount=-F26_DEPTH, mode=Mode.SUBTRACT)

    # F27
    f27_edges = [f1.edges().sort_by_distance(p)[0] for p in [
        (0, -34.544, -228.6),
    ]]
    fillet(f27_edges, radius=F27_R)


solid = f1.part
